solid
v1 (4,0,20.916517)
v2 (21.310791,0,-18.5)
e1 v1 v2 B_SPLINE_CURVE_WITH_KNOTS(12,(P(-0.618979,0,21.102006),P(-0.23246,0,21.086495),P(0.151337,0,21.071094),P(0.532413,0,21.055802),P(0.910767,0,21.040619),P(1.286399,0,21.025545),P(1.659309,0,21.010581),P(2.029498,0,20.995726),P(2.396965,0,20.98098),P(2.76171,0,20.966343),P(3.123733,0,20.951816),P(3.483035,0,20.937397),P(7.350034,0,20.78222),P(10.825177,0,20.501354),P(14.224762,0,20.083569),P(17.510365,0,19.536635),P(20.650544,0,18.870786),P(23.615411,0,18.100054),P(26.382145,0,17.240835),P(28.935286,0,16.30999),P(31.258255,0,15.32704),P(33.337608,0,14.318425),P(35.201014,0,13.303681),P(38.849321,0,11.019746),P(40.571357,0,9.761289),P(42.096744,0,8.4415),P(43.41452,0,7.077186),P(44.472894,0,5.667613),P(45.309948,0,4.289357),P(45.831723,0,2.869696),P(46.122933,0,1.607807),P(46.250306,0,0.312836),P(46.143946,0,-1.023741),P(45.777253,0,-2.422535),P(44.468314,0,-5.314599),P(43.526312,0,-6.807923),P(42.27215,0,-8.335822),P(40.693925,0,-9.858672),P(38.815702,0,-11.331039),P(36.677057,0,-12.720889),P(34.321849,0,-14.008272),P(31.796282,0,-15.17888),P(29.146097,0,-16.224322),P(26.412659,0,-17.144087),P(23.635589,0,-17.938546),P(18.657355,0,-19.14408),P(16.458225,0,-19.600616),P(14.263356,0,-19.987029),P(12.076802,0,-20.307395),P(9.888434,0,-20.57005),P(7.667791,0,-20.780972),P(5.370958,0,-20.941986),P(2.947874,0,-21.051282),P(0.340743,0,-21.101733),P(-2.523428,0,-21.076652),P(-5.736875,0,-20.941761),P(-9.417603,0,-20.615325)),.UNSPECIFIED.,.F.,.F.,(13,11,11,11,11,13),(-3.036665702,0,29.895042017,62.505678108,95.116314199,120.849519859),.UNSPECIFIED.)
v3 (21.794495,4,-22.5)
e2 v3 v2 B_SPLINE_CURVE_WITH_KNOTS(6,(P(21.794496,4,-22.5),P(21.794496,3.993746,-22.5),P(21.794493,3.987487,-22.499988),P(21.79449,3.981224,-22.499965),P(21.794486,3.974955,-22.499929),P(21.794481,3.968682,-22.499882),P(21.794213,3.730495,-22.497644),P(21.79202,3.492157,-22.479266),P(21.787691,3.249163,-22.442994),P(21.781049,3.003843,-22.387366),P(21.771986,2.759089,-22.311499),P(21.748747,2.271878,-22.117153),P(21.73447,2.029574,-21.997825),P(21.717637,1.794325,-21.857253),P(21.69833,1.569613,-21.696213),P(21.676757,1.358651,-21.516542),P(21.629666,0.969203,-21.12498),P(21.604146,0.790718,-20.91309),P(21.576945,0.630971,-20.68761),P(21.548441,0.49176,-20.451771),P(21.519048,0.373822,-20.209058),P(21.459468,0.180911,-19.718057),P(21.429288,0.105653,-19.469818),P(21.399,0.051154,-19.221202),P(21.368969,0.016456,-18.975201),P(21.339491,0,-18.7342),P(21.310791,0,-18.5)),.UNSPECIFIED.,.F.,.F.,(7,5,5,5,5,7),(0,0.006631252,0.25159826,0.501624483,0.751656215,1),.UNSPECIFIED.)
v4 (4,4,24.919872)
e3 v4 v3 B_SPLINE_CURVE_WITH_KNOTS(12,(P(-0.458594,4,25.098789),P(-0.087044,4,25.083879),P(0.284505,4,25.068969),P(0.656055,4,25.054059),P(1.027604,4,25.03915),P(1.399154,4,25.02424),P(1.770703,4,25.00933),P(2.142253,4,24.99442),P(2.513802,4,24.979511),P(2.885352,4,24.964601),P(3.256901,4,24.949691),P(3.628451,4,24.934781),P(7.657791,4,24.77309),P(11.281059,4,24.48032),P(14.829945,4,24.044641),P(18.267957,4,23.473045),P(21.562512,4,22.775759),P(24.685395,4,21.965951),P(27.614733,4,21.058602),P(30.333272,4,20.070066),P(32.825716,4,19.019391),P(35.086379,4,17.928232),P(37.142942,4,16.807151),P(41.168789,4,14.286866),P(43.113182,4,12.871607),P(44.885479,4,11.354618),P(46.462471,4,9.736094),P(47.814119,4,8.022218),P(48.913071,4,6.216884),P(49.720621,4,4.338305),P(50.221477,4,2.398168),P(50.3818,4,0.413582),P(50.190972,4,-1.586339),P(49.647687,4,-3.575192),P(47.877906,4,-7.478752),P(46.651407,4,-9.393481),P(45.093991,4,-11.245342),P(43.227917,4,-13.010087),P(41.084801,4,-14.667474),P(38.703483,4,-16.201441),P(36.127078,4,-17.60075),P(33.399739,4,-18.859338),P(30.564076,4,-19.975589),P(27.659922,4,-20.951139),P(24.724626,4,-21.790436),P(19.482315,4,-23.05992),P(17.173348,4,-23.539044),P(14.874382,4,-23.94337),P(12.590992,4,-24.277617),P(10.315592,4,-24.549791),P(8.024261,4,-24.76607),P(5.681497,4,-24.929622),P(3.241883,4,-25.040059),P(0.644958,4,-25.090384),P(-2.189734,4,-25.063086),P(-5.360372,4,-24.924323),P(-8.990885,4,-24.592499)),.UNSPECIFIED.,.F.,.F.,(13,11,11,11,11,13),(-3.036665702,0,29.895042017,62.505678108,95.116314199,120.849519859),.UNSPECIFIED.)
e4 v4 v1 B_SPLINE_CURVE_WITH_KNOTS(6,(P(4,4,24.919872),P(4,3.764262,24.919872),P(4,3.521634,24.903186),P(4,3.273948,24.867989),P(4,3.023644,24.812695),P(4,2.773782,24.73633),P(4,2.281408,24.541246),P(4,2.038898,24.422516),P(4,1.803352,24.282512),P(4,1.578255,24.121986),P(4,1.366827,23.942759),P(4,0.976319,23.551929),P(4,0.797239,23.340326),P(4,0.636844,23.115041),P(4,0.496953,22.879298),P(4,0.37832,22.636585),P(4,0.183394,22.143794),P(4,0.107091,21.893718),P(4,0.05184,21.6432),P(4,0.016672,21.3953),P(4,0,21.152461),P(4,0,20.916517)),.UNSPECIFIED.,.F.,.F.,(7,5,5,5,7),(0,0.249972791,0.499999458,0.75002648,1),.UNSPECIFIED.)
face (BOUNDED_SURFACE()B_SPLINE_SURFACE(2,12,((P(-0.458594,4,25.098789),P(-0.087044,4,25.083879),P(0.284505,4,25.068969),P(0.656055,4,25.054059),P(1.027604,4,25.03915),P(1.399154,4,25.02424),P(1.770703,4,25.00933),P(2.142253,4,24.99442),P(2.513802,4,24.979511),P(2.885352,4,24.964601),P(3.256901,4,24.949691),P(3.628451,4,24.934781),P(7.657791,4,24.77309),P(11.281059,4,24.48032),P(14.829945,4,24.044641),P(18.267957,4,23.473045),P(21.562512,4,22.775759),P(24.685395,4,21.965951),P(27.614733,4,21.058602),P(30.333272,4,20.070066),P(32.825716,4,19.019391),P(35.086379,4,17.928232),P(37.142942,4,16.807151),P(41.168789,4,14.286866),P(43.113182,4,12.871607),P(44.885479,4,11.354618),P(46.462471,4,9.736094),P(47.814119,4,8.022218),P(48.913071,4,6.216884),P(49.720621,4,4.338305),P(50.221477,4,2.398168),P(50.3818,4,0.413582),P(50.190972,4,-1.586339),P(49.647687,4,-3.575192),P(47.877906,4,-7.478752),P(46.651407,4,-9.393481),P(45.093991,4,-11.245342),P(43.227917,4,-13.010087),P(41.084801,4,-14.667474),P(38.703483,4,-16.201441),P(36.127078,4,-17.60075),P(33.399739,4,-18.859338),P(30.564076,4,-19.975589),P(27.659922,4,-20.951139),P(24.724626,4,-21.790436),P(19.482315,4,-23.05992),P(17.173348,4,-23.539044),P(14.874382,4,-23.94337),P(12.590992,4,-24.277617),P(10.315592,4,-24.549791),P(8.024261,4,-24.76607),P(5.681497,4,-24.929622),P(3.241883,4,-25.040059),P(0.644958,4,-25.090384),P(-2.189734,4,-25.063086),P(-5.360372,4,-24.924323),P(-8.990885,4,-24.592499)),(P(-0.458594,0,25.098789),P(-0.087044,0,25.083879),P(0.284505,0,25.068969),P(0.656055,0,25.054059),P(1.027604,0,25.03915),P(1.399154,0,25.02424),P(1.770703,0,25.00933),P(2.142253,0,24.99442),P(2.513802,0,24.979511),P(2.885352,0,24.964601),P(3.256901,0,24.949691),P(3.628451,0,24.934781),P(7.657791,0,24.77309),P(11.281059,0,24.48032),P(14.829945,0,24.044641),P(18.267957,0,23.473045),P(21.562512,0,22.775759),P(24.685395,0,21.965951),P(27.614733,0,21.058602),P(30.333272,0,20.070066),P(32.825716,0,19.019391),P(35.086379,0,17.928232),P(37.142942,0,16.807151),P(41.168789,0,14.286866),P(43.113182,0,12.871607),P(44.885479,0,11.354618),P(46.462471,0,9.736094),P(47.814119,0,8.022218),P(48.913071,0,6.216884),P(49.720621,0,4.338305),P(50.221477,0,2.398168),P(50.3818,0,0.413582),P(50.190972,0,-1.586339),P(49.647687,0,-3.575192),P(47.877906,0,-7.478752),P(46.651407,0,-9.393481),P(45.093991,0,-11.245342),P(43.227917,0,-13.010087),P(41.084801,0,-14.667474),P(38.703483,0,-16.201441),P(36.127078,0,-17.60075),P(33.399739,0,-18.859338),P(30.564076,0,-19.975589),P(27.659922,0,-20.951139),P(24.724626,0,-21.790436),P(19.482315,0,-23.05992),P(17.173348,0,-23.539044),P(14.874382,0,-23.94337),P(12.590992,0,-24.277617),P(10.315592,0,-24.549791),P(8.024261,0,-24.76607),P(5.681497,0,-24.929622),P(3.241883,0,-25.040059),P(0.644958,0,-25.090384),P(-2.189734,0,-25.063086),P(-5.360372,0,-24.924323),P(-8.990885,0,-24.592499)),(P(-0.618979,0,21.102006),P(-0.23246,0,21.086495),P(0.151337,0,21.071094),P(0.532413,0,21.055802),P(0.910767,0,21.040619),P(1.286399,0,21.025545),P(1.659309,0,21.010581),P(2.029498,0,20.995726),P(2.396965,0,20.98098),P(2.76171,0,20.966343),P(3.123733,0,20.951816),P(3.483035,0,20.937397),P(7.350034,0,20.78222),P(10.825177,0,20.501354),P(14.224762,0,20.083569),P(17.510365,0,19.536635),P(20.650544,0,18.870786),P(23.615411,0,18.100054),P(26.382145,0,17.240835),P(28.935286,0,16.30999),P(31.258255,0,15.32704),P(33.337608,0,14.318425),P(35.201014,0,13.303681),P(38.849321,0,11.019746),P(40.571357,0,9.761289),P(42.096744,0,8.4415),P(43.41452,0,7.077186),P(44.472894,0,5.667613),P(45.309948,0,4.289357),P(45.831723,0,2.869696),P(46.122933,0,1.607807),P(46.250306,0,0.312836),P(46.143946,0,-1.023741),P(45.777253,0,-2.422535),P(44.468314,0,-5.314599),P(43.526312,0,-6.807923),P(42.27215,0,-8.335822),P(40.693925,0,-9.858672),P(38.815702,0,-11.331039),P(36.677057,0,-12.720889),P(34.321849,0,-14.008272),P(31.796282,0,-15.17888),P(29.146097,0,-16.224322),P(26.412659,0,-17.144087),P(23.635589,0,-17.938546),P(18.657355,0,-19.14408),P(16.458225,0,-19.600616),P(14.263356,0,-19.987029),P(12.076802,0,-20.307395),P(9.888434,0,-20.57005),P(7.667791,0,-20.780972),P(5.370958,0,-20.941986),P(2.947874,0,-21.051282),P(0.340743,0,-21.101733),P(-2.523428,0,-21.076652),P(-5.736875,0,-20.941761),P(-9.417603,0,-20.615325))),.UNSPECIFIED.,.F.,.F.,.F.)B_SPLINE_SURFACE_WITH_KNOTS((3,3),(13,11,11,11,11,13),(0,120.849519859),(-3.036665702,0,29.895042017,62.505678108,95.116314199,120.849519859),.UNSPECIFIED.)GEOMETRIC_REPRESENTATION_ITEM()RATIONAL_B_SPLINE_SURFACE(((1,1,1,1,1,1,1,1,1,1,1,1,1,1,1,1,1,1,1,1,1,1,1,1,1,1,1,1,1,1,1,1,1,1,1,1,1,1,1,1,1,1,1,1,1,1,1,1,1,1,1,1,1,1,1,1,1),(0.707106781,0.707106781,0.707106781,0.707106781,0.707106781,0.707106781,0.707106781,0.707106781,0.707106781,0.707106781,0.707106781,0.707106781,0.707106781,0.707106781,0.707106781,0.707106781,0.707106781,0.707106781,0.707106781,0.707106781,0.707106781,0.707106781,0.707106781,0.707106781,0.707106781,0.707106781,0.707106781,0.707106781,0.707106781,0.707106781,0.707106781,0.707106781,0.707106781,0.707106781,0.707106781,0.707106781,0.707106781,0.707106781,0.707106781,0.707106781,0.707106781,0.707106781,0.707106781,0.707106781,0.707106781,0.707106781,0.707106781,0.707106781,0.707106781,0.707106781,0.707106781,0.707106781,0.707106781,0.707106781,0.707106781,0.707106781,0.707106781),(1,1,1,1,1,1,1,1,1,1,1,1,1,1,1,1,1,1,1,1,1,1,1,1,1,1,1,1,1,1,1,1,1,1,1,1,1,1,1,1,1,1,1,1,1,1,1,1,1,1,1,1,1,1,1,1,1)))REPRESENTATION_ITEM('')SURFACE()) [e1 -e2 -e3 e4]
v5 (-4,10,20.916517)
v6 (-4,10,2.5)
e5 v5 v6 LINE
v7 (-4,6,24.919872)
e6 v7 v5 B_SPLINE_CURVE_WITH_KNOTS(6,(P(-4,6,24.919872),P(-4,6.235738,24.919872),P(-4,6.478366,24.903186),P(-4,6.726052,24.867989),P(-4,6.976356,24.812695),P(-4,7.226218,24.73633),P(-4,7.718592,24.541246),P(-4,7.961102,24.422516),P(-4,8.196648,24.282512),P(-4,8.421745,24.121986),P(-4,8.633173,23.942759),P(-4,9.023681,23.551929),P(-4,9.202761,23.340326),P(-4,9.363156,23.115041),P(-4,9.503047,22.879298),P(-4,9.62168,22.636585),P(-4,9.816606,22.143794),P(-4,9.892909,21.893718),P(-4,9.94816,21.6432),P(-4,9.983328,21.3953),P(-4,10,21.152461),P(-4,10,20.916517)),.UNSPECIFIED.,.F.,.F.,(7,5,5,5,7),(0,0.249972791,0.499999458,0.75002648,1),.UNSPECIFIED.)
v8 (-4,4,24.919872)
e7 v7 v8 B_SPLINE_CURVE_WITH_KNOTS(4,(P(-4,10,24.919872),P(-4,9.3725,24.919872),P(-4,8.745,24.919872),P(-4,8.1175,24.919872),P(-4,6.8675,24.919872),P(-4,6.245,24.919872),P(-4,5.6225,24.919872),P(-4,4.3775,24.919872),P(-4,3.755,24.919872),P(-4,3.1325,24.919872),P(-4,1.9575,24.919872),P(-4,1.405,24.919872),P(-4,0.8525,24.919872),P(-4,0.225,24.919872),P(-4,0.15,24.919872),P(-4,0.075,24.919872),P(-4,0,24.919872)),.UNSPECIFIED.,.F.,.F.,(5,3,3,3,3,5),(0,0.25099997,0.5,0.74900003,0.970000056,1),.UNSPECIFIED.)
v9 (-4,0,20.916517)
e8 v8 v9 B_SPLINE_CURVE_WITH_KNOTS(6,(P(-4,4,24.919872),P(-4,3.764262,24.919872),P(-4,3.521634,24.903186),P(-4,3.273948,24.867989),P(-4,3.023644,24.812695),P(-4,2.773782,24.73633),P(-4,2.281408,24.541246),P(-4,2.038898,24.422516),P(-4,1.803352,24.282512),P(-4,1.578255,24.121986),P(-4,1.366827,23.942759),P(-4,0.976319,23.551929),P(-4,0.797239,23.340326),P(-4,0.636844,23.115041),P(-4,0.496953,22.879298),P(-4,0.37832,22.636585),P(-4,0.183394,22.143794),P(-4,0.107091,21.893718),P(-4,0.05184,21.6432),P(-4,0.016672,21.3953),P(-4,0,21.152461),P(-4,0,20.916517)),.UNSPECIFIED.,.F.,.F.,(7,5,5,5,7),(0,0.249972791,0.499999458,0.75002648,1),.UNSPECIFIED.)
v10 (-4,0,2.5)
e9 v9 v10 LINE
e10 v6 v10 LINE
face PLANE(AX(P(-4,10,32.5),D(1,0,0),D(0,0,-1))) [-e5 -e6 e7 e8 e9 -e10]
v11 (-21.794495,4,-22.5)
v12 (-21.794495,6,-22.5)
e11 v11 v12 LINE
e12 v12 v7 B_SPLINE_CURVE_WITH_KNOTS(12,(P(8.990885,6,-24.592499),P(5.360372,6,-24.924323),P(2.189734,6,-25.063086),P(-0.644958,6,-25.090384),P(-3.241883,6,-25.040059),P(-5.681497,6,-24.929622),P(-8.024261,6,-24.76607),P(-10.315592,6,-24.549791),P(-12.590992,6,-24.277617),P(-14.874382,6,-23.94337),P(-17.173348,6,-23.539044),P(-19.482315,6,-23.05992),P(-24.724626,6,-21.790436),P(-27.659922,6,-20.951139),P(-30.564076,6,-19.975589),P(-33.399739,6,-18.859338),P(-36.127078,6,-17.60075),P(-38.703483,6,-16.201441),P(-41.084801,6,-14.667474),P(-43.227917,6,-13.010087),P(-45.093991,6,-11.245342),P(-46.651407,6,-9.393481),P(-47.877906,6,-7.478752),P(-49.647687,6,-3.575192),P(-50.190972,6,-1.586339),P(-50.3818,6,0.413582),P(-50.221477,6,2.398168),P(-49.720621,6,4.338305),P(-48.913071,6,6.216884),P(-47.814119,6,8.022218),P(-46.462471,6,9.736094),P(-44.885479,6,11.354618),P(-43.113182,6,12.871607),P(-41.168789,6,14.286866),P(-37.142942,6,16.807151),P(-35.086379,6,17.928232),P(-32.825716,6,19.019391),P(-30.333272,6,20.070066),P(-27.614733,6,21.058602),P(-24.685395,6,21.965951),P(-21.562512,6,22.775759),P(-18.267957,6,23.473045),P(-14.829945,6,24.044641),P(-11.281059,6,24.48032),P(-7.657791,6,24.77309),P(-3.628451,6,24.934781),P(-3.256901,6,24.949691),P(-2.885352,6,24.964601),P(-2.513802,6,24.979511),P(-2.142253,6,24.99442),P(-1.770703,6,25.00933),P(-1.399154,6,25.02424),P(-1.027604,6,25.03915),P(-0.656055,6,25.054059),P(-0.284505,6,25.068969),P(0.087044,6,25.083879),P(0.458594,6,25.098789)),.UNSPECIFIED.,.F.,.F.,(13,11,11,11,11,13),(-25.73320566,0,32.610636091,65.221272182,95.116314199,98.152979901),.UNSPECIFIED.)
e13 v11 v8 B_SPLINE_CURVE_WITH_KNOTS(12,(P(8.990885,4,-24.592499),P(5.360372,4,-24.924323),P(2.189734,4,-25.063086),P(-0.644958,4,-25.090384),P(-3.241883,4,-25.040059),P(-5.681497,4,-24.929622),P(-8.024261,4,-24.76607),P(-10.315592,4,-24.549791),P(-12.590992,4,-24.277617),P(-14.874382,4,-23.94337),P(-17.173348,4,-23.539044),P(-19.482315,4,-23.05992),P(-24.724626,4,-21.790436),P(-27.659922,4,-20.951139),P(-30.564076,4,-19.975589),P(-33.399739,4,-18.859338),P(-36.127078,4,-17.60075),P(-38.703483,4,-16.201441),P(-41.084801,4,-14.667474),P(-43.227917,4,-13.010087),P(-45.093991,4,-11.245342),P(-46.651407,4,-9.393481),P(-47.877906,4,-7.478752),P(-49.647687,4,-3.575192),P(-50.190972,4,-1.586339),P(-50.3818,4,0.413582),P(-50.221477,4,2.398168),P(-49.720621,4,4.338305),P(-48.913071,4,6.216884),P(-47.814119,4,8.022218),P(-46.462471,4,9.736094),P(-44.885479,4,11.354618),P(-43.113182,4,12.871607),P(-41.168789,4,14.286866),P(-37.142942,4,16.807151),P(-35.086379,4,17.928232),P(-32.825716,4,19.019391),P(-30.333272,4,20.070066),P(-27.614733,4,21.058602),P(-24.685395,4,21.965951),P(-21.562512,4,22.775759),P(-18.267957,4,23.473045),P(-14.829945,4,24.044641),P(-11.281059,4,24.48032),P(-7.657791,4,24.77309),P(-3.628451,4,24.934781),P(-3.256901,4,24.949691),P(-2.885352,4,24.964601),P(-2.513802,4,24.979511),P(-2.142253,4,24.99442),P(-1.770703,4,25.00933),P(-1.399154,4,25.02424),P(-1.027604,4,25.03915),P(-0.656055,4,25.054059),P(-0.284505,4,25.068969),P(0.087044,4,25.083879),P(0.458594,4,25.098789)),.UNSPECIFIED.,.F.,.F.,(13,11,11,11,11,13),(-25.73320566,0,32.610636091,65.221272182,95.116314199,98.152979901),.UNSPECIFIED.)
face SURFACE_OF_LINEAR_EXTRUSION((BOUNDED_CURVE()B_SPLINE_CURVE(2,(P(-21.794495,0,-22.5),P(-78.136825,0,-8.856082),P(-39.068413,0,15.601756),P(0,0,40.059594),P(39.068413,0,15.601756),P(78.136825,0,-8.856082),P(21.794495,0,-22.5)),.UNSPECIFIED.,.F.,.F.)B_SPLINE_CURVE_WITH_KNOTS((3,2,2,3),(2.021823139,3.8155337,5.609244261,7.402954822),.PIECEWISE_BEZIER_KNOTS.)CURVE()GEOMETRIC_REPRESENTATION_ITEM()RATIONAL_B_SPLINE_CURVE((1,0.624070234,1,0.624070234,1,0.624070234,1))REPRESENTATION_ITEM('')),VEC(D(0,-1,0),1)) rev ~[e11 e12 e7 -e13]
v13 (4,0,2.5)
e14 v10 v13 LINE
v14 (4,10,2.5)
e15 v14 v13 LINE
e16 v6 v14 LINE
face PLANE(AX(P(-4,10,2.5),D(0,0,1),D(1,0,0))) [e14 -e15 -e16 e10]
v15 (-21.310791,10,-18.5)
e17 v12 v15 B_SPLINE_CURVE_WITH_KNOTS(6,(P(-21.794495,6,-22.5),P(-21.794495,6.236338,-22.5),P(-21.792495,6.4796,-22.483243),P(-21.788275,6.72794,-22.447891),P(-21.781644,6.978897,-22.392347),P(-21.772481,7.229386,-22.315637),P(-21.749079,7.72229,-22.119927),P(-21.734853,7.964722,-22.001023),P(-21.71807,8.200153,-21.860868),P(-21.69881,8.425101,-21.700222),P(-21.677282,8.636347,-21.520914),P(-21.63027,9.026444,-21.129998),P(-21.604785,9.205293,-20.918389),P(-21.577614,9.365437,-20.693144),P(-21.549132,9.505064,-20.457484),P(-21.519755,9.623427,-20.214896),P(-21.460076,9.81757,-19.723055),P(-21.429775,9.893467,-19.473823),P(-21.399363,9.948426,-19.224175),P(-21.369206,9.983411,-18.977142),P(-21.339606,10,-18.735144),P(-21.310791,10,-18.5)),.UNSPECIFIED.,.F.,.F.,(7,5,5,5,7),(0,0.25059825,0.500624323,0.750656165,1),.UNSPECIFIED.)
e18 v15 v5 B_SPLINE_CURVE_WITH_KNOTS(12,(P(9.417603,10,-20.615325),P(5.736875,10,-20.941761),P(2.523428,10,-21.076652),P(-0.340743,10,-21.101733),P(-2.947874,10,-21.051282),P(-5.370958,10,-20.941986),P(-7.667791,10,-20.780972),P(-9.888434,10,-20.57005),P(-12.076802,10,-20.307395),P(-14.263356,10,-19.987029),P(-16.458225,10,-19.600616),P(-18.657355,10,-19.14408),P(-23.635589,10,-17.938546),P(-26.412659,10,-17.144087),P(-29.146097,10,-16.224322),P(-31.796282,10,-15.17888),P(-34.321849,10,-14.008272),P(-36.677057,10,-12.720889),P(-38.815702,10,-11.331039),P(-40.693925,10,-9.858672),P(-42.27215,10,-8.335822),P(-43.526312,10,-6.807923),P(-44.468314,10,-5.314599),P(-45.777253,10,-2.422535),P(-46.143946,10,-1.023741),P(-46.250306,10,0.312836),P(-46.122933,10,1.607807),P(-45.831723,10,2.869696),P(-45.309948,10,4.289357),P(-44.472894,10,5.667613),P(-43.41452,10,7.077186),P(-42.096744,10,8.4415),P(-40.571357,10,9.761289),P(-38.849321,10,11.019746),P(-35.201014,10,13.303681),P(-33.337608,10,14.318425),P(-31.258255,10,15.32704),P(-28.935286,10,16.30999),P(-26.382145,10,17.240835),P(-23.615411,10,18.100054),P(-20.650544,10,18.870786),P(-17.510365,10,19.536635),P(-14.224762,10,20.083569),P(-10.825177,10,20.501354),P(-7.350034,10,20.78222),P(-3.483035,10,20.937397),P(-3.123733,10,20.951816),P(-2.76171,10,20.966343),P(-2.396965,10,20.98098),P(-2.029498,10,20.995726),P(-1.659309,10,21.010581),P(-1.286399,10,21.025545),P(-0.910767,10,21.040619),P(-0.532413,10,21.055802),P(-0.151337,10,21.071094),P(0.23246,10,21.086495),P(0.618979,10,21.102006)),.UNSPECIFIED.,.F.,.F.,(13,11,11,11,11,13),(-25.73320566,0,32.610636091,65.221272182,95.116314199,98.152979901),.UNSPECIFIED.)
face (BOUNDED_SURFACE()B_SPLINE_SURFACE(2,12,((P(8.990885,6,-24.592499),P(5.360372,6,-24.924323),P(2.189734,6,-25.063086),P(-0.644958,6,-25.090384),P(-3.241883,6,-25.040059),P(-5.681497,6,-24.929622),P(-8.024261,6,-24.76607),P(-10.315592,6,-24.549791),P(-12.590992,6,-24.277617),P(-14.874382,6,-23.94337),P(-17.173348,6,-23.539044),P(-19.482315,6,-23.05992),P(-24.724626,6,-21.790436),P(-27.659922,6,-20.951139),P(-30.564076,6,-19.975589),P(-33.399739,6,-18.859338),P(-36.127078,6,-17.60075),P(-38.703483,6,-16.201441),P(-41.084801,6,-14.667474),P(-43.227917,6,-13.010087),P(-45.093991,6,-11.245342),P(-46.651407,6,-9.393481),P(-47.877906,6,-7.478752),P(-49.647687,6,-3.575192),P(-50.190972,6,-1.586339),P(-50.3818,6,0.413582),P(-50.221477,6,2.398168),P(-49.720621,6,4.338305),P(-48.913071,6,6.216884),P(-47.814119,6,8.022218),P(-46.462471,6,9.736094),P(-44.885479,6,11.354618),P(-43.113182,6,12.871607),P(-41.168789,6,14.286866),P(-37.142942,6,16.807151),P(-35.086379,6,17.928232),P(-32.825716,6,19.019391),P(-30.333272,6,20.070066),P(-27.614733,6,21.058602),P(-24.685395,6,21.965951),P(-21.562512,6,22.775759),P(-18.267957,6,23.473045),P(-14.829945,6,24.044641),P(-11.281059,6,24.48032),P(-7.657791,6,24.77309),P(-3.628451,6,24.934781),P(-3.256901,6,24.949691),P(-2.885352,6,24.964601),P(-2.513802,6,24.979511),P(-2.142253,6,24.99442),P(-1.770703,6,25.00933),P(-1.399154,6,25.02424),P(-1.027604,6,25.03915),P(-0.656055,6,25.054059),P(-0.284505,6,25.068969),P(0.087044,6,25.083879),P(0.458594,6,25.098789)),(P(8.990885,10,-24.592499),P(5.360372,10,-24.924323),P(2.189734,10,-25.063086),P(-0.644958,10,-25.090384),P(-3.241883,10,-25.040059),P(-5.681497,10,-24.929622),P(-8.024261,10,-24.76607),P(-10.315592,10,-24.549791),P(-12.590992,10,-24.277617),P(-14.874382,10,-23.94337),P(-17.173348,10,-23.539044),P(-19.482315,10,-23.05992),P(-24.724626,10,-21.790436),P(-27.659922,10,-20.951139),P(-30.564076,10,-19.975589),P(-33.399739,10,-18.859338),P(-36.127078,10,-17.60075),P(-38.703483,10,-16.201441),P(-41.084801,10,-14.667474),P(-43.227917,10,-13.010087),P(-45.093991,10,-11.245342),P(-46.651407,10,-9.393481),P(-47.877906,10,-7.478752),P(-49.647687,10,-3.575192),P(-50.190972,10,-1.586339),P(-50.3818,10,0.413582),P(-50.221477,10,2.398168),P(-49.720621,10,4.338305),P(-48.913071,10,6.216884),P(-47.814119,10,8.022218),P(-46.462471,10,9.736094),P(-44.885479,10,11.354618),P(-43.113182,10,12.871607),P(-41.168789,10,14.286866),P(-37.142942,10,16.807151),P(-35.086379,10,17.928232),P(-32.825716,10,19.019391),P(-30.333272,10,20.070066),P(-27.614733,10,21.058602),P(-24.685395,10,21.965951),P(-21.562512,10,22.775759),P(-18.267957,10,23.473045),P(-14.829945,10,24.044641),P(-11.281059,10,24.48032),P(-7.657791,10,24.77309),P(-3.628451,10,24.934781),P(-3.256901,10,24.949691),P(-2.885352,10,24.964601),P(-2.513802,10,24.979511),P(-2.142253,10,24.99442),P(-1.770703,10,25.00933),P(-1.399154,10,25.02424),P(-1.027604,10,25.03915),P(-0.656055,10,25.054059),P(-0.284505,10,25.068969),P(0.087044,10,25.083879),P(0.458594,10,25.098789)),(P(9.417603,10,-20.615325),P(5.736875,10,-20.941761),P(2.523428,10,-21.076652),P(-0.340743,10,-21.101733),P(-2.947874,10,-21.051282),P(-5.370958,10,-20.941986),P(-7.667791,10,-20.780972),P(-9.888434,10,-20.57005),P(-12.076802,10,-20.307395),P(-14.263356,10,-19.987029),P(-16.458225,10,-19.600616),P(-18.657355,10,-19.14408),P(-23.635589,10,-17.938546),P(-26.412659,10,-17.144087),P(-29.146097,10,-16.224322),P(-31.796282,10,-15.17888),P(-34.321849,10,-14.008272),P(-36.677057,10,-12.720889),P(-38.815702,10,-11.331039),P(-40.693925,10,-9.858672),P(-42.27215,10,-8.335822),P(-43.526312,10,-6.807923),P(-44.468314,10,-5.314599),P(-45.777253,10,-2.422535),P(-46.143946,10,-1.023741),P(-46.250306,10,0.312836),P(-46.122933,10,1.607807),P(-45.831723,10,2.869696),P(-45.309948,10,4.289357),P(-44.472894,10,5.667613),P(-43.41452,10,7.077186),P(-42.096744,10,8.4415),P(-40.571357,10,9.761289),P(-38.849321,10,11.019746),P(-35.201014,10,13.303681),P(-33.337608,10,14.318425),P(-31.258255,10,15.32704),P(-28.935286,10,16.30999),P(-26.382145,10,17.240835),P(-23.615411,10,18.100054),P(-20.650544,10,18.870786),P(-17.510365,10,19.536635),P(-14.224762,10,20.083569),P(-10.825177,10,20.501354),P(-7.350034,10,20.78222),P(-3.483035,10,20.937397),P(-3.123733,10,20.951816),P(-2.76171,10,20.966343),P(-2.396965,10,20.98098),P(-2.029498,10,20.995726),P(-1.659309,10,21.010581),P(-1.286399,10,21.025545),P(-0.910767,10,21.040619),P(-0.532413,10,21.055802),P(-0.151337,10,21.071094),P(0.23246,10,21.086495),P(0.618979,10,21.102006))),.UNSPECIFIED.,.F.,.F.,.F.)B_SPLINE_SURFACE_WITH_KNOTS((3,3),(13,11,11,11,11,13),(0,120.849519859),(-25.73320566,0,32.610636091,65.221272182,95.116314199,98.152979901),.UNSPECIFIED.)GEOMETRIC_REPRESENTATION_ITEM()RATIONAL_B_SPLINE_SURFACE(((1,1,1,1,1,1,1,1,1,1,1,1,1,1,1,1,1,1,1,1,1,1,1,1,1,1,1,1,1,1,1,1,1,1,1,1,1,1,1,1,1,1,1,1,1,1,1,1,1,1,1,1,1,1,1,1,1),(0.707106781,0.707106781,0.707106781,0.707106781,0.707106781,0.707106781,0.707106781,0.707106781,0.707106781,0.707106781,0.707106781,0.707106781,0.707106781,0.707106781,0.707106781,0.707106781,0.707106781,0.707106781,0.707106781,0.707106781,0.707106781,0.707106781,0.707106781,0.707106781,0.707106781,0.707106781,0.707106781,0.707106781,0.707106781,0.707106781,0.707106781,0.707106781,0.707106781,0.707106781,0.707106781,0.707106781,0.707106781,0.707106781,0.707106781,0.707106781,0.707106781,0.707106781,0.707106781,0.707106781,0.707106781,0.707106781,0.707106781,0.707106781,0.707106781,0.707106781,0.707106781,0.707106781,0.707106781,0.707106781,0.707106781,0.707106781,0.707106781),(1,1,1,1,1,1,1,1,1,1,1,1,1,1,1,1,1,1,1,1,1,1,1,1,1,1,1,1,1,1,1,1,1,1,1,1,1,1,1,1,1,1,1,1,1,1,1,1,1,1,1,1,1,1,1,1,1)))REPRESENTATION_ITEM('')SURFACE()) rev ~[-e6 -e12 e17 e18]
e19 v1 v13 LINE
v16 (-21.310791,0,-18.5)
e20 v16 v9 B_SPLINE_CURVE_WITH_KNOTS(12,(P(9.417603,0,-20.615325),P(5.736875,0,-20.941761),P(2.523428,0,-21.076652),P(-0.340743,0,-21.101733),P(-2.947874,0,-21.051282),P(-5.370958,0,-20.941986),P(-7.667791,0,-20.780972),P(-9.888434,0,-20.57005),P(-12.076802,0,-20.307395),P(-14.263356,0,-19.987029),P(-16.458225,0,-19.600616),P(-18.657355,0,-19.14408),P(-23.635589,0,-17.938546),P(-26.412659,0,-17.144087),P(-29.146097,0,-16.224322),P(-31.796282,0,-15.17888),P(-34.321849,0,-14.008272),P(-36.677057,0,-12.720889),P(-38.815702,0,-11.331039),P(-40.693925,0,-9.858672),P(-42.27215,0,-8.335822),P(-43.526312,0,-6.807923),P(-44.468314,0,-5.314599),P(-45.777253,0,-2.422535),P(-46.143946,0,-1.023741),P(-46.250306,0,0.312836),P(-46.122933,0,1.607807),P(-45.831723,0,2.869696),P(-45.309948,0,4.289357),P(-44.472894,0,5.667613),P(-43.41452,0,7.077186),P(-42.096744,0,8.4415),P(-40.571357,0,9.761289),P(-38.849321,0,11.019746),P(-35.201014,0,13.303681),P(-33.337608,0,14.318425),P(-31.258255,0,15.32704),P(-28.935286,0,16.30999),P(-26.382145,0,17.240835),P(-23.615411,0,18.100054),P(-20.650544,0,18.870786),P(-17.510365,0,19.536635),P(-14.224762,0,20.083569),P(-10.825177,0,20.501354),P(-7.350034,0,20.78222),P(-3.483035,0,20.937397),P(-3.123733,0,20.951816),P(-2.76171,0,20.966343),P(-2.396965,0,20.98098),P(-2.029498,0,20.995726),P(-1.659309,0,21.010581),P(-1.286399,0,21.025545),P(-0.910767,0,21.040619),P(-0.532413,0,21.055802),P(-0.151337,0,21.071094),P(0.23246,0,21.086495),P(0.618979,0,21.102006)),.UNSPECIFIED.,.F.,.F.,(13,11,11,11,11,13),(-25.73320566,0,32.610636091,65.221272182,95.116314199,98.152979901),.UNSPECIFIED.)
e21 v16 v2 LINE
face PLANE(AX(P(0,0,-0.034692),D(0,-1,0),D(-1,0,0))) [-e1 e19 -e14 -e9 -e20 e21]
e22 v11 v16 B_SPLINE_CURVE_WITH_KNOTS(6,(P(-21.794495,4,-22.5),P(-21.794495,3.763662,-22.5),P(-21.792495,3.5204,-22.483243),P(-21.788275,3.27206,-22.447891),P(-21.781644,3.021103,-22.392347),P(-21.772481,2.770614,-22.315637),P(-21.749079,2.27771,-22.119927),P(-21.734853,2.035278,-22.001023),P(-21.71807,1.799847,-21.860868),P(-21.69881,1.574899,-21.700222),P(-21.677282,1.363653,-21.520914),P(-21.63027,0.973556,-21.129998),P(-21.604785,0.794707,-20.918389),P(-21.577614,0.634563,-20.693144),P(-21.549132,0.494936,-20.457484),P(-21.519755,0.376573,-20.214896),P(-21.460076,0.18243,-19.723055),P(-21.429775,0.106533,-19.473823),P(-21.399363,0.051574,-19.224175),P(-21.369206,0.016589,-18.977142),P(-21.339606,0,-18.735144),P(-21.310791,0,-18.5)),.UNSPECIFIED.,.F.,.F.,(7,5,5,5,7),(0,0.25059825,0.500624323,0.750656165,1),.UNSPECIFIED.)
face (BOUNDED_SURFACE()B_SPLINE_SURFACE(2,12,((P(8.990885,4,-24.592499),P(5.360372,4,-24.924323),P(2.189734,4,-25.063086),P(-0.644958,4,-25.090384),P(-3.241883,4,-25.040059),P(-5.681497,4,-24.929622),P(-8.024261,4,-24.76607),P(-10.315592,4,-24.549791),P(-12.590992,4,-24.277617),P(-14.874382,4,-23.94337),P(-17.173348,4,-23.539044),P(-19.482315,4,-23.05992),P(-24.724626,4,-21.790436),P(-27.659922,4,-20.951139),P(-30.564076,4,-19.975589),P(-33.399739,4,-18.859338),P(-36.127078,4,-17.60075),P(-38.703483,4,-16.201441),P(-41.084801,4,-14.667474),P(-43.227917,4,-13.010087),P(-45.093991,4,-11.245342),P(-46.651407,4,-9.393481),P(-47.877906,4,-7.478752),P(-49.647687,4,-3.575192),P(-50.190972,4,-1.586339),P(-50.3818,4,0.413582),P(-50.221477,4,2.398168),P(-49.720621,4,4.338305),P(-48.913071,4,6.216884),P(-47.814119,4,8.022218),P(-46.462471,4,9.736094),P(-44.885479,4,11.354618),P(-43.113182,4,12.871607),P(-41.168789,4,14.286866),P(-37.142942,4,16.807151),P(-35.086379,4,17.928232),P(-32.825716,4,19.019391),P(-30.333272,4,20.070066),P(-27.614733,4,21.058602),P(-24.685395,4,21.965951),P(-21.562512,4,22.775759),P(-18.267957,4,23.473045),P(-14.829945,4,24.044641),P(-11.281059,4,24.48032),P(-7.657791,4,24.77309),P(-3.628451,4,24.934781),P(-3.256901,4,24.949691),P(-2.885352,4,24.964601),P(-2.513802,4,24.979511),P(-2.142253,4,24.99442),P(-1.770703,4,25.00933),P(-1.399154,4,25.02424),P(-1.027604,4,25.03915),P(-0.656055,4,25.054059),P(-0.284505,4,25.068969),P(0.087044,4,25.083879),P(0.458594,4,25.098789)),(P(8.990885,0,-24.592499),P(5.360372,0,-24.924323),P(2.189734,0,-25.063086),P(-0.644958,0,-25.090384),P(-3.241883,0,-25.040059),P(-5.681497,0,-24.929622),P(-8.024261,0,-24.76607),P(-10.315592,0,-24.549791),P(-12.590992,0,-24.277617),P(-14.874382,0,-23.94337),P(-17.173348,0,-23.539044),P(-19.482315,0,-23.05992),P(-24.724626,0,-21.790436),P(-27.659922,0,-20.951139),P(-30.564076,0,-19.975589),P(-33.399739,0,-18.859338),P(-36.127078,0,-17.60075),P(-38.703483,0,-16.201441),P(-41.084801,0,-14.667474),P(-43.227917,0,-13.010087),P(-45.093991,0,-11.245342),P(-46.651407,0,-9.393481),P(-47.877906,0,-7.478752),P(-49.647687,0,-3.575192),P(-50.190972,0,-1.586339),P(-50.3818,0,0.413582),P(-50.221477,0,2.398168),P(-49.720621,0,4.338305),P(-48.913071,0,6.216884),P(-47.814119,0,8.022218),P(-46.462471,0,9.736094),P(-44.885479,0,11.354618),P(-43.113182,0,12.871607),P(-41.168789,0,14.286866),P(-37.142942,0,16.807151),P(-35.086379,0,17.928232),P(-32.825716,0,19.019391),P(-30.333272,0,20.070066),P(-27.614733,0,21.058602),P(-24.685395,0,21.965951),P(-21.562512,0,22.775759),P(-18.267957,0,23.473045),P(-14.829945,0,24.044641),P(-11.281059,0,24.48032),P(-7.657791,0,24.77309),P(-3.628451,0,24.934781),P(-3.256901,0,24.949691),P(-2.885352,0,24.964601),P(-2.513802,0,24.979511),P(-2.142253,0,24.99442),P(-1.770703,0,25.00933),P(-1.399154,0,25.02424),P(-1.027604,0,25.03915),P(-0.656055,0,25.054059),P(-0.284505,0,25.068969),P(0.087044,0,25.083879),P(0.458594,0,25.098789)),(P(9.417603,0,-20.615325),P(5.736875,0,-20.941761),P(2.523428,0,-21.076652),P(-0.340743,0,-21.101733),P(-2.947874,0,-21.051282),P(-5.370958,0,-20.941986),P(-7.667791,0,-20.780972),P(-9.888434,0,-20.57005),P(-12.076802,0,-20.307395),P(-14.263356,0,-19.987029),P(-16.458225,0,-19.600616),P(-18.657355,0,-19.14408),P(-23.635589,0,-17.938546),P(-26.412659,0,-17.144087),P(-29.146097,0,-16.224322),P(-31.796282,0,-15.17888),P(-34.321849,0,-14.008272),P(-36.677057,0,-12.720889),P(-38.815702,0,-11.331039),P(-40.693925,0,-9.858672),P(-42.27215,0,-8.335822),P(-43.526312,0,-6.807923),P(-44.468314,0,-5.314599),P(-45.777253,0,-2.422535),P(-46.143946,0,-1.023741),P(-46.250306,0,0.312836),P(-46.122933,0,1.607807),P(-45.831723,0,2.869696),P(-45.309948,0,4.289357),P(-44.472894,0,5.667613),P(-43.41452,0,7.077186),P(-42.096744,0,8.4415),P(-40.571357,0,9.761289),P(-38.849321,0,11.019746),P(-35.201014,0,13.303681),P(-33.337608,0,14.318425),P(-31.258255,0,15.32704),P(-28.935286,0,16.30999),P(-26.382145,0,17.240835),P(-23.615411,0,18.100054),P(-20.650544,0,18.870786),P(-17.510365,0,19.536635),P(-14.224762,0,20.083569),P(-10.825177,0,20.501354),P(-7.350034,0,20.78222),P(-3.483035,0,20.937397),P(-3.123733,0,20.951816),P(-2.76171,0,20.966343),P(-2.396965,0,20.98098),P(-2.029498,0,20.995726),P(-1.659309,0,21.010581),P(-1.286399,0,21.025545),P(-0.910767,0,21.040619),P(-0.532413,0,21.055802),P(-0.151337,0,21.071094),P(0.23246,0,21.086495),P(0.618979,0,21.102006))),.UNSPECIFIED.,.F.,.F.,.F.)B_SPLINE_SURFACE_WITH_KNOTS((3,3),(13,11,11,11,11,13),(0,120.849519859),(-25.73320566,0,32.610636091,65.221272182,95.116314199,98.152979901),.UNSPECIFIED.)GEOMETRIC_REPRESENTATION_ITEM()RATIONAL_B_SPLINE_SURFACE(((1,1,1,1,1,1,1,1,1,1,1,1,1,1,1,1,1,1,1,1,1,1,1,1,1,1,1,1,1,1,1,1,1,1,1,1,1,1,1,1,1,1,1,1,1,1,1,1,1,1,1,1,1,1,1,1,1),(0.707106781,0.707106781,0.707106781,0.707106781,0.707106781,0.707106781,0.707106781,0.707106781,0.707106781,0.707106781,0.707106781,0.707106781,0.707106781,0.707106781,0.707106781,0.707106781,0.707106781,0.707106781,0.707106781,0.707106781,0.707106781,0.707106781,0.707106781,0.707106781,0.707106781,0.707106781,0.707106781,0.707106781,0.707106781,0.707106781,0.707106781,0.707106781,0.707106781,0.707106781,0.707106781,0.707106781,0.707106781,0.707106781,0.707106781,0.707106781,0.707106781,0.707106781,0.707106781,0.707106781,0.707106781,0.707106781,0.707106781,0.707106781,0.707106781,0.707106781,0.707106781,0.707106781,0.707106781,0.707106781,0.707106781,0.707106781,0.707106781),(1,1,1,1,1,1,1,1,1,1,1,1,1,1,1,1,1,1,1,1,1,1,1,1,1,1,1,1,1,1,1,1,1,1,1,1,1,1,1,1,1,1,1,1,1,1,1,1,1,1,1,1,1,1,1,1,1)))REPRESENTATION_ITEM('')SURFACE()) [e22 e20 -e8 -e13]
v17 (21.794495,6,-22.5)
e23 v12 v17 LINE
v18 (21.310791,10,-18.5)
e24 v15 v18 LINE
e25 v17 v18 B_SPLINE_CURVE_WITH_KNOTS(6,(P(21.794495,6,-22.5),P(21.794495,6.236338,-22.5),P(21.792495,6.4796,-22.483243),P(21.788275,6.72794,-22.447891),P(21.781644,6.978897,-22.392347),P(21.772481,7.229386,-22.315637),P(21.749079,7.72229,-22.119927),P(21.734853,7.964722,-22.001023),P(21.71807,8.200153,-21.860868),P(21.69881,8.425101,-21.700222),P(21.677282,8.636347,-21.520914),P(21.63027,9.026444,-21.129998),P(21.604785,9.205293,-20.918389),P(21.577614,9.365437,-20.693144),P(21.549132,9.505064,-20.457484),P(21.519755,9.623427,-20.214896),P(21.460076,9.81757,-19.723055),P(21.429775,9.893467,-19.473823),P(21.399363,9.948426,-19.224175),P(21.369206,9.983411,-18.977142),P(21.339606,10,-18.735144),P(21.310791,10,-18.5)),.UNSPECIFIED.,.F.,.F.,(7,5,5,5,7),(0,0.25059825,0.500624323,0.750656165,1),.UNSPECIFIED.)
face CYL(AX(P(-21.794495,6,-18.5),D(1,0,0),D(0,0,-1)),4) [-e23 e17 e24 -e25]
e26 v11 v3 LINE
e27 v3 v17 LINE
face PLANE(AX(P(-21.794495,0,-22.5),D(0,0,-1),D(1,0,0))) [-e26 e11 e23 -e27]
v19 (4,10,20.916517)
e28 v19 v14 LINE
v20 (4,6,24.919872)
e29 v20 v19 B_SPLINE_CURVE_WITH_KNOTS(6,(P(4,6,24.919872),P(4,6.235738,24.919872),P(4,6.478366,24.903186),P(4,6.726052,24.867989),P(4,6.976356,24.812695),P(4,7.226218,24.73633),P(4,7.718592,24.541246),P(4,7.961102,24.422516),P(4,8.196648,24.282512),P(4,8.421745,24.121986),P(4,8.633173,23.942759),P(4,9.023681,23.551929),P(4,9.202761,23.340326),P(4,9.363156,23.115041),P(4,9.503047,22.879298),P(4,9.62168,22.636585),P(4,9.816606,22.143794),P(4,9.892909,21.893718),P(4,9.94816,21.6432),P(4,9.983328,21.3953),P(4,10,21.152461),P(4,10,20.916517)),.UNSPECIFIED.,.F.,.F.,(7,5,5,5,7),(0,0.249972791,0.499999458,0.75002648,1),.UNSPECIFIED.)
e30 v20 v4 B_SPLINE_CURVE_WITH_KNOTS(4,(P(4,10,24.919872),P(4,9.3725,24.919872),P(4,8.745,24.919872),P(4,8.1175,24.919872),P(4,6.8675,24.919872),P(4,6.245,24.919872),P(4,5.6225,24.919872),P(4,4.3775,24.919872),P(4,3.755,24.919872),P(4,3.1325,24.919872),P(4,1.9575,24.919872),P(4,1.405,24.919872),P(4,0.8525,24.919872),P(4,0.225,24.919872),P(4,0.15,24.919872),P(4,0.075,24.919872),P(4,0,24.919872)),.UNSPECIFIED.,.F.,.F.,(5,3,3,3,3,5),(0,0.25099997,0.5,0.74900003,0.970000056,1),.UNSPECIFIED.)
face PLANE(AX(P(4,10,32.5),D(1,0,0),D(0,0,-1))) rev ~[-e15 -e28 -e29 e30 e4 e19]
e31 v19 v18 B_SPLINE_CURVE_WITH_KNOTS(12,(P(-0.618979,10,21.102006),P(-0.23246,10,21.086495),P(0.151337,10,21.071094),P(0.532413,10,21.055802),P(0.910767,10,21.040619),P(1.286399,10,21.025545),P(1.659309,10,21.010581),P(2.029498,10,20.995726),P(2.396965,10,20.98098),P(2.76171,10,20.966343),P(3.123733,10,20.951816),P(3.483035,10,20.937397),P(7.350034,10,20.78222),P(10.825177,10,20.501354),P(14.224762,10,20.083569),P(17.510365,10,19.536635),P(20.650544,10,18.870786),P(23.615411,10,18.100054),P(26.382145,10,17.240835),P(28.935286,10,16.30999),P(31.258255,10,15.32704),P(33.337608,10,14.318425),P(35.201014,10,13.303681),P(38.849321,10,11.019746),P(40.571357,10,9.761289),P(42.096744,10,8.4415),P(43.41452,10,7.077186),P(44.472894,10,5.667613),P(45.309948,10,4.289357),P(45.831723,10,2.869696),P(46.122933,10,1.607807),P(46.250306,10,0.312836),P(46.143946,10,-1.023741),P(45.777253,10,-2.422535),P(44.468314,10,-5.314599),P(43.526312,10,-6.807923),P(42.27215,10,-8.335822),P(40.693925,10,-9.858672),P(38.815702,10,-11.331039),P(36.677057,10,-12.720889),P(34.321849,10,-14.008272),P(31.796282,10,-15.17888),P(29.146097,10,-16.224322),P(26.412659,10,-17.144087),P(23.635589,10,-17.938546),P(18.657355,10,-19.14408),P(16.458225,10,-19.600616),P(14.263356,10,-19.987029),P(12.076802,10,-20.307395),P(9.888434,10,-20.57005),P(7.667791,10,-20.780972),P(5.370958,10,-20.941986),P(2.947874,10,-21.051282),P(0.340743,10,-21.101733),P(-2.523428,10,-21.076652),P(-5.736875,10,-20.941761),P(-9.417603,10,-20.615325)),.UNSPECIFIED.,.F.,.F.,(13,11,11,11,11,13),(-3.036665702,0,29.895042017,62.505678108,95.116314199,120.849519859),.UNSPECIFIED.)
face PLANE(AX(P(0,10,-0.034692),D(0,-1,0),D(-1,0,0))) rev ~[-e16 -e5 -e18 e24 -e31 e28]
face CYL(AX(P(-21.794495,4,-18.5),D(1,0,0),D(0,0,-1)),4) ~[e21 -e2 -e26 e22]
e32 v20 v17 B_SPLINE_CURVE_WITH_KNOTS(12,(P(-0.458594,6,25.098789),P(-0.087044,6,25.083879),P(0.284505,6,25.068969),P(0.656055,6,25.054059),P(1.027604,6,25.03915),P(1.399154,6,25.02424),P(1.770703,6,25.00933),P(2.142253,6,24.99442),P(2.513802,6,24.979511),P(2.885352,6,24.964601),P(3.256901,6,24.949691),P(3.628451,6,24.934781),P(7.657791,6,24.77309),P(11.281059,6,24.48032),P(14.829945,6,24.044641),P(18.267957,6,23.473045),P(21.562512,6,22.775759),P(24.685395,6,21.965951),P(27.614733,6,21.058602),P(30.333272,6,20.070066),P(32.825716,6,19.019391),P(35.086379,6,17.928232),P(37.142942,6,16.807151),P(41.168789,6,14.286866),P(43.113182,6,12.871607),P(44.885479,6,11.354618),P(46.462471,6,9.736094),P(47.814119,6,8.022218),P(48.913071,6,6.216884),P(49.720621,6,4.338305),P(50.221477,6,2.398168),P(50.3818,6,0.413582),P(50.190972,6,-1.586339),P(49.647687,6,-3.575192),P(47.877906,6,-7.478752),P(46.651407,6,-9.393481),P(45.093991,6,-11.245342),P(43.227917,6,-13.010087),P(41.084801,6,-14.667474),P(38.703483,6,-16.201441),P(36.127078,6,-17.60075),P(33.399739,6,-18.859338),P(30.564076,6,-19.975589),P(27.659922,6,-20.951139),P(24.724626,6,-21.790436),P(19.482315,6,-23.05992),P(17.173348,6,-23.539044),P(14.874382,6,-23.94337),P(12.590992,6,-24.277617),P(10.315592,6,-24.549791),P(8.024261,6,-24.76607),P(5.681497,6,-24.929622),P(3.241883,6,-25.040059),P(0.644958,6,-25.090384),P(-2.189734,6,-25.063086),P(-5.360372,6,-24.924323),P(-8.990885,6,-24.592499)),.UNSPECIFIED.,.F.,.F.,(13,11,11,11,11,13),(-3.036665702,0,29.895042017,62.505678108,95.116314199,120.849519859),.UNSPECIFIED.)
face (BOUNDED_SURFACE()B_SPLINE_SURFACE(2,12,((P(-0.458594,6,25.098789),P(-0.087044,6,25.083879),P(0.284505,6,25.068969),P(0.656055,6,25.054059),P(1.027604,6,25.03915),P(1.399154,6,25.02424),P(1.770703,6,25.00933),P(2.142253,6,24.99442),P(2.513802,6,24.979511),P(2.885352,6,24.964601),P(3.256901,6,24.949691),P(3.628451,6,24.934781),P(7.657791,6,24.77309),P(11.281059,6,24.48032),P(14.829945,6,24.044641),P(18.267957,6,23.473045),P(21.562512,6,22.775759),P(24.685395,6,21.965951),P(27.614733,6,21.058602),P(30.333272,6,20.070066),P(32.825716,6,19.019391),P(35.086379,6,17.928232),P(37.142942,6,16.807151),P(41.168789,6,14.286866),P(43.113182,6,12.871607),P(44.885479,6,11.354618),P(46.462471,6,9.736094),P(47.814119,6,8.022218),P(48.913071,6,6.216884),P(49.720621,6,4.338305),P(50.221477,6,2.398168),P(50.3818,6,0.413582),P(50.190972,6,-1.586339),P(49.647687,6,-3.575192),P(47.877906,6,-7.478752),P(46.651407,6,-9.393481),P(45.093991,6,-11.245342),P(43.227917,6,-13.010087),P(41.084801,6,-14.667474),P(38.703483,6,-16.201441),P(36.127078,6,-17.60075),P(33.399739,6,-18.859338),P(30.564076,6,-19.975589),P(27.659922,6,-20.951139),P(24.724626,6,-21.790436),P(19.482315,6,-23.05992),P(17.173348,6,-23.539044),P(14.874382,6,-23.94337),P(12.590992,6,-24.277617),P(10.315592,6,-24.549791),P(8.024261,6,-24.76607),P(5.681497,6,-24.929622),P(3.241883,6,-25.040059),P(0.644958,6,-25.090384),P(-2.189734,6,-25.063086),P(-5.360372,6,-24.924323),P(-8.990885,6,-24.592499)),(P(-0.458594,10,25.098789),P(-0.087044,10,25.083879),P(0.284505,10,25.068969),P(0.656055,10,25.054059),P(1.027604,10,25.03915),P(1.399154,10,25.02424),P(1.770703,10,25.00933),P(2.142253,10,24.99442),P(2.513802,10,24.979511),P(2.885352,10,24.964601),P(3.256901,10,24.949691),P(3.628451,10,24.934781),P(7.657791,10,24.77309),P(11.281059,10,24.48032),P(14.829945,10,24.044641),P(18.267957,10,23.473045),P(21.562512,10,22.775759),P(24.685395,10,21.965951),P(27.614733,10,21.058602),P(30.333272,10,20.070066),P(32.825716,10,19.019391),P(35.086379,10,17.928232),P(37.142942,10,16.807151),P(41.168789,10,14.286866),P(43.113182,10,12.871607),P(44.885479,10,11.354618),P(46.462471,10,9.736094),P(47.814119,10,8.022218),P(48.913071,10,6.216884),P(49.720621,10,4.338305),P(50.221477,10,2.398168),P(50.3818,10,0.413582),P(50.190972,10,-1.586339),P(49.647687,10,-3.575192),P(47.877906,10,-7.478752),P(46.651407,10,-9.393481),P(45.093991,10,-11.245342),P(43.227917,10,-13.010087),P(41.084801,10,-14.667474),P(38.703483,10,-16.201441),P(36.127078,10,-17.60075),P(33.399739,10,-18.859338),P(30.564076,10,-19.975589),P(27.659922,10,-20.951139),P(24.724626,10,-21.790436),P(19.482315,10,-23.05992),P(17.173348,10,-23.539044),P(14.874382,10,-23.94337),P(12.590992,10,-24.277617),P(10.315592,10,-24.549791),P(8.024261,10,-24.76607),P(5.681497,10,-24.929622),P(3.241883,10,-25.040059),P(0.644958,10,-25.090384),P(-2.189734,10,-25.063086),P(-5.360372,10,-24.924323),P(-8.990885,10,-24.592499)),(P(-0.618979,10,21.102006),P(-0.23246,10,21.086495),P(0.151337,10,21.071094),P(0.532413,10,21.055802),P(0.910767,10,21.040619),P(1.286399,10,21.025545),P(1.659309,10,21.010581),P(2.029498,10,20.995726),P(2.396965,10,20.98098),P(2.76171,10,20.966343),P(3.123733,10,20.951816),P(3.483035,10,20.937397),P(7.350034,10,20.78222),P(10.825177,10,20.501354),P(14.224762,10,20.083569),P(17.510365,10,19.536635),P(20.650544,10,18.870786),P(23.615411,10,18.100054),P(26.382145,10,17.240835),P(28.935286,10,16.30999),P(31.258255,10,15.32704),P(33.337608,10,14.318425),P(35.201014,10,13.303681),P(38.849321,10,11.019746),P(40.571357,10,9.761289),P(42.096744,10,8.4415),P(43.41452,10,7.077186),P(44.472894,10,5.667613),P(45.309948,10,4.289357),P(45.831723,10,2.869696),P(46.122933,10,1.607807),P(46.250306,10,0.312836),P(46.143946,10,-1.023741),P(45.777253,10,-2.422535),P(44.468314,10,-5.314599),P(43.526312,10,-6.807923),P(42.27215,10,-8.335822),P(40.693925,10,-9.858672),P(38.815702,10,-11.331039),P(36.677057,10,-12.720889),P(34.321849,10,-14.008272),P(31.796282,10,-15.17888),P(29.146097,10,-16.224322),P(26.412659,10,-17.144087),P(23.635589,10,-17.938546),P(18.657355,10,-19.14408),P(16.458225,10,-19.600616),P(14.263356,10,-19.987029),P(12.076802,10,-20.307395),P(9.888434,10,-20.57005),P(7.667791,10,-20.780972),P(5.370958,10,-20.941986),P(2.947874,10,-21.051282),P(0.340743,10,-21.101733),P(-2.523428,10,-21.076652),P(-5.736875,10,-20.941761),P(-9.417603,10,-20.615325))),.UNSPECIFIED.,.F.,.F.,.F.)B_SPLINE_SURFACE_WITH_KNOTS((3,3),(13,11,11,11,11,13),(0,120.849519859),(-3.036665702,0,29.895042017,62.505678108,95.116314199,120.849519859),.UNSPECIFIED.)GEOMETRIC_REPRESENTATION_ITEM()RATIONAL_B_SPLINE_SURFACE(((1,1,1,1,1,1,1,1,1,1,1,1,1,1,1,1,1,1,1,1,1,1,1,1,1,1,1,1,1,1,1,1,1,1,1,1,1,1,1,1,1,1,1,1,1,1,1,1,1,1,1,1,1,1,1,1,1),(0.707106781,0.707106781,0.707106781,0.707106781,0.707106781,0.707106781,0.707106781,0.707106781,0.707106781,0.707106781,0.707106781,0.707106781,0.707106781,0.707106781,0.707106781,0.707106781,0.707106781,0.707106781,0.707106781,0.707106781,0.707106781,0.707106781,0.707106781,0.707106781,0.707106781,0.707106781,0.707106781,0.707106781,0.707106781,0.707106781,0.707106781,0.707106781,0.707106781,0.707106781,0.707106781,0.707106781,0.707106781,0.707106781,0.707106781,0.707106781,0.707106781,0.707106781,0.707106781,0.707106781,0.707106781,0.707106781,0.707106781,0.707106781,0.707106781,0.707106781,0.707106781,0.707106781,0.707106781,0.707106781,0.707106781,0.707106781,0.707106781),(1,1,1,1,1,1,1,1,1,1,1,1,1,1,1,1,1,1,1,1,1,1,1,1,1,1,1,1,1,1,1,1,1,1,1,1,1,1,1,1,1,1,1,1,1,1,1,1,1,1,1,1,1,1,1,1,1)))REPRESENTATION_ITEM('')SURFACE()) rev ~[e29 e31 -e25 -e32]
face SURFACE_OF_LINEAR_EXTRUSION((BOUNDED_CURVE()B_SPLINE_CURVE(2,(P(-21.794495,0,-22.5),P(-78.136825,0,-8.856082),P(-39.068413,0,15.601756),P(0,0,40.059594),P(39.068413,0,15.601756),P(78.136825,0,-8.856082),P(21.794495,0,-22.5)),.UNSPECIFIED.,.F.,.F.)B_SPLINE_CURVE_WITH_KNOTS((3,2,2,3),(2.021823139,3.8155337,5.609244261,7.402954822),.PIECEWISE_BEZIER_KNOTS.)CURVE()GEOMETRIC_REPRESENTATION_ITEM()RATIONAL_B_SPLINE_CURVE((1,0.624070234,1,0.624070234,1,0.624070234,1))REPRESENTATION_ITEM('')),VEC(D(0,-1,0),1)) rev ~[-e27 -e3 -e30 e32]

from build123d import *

# Parameters (mm, degrees)
BOSS_EXTRUDE1_DEPTH = 10
SKETCH5_W           = 8
SKETCH5_H           = 30
CUT_EXTRUDE4_DEPTH  = 10
FILLET12_R          = 4


with BuildPart() as part:
    # Sketch1 → Boss-Extrude1 (new body)
    with BuildSketch(Plane(origin=(0, 0, 0), x_dir=(1, 0, 0), z_dir=(0, 1, 0))):
        with BuildLine():
            Line((-21.794494718, 22.5), (21.794494718, 22.5))
            add(Edge.make_bspline(
                [(-21.794494718, 22.5), (-78.136825066, 8.856081987), (-39.068412533, -15.601755848), (0, -40.059593683), (39.068412533, -15.601755848), (78.136825066, 8.856081987), (21.794494718, 22.5)],
                knots=[2.021823139, 2.021823139, 2.021823139, 3.8155337, 3.8155337, 5.609244261, 5.609244261, 7.402954822, 7.402954822, 7.402954822], degree=2, weights=[1, 0.624070234, 1, 0.624070234, 1, 0.624070234, 1]))
        make_face()
    extrude(amount=BOSS_EXTRUDE1_DEPTH)

    # Sketch5 → Cut-Extrude4 (cut)
    with BuildSketch(Plane(origin=(0, 10, 0), x_dir=(1, 0, 0), z_dir=(0, 1, 0))):
        with Locations((0, -17.5)):
            Rectangle(SKETCH5_W, SKETCH5_H)
    extrude(amount=-CUT_EXTRUDE4_DEPTH, mode=Mode.SUBTRACT)

    # Fillet12
    fillet12_edges = [part.edges().sort_by_distance(p)[0] for p in [
        (47.117377831, 10, 8.365893651),
        (0, 0, -22.5),
        (-47.117377875, 0, 8.365893589),
        (-47.117377875, 10, 8.365893589),
        (0, 10, -22.5),
        (47.117377831, 0, 8.365893651),
    ]]
    fillet(fillet12_edges, radius=FILLET12_R)


solid = part.part
